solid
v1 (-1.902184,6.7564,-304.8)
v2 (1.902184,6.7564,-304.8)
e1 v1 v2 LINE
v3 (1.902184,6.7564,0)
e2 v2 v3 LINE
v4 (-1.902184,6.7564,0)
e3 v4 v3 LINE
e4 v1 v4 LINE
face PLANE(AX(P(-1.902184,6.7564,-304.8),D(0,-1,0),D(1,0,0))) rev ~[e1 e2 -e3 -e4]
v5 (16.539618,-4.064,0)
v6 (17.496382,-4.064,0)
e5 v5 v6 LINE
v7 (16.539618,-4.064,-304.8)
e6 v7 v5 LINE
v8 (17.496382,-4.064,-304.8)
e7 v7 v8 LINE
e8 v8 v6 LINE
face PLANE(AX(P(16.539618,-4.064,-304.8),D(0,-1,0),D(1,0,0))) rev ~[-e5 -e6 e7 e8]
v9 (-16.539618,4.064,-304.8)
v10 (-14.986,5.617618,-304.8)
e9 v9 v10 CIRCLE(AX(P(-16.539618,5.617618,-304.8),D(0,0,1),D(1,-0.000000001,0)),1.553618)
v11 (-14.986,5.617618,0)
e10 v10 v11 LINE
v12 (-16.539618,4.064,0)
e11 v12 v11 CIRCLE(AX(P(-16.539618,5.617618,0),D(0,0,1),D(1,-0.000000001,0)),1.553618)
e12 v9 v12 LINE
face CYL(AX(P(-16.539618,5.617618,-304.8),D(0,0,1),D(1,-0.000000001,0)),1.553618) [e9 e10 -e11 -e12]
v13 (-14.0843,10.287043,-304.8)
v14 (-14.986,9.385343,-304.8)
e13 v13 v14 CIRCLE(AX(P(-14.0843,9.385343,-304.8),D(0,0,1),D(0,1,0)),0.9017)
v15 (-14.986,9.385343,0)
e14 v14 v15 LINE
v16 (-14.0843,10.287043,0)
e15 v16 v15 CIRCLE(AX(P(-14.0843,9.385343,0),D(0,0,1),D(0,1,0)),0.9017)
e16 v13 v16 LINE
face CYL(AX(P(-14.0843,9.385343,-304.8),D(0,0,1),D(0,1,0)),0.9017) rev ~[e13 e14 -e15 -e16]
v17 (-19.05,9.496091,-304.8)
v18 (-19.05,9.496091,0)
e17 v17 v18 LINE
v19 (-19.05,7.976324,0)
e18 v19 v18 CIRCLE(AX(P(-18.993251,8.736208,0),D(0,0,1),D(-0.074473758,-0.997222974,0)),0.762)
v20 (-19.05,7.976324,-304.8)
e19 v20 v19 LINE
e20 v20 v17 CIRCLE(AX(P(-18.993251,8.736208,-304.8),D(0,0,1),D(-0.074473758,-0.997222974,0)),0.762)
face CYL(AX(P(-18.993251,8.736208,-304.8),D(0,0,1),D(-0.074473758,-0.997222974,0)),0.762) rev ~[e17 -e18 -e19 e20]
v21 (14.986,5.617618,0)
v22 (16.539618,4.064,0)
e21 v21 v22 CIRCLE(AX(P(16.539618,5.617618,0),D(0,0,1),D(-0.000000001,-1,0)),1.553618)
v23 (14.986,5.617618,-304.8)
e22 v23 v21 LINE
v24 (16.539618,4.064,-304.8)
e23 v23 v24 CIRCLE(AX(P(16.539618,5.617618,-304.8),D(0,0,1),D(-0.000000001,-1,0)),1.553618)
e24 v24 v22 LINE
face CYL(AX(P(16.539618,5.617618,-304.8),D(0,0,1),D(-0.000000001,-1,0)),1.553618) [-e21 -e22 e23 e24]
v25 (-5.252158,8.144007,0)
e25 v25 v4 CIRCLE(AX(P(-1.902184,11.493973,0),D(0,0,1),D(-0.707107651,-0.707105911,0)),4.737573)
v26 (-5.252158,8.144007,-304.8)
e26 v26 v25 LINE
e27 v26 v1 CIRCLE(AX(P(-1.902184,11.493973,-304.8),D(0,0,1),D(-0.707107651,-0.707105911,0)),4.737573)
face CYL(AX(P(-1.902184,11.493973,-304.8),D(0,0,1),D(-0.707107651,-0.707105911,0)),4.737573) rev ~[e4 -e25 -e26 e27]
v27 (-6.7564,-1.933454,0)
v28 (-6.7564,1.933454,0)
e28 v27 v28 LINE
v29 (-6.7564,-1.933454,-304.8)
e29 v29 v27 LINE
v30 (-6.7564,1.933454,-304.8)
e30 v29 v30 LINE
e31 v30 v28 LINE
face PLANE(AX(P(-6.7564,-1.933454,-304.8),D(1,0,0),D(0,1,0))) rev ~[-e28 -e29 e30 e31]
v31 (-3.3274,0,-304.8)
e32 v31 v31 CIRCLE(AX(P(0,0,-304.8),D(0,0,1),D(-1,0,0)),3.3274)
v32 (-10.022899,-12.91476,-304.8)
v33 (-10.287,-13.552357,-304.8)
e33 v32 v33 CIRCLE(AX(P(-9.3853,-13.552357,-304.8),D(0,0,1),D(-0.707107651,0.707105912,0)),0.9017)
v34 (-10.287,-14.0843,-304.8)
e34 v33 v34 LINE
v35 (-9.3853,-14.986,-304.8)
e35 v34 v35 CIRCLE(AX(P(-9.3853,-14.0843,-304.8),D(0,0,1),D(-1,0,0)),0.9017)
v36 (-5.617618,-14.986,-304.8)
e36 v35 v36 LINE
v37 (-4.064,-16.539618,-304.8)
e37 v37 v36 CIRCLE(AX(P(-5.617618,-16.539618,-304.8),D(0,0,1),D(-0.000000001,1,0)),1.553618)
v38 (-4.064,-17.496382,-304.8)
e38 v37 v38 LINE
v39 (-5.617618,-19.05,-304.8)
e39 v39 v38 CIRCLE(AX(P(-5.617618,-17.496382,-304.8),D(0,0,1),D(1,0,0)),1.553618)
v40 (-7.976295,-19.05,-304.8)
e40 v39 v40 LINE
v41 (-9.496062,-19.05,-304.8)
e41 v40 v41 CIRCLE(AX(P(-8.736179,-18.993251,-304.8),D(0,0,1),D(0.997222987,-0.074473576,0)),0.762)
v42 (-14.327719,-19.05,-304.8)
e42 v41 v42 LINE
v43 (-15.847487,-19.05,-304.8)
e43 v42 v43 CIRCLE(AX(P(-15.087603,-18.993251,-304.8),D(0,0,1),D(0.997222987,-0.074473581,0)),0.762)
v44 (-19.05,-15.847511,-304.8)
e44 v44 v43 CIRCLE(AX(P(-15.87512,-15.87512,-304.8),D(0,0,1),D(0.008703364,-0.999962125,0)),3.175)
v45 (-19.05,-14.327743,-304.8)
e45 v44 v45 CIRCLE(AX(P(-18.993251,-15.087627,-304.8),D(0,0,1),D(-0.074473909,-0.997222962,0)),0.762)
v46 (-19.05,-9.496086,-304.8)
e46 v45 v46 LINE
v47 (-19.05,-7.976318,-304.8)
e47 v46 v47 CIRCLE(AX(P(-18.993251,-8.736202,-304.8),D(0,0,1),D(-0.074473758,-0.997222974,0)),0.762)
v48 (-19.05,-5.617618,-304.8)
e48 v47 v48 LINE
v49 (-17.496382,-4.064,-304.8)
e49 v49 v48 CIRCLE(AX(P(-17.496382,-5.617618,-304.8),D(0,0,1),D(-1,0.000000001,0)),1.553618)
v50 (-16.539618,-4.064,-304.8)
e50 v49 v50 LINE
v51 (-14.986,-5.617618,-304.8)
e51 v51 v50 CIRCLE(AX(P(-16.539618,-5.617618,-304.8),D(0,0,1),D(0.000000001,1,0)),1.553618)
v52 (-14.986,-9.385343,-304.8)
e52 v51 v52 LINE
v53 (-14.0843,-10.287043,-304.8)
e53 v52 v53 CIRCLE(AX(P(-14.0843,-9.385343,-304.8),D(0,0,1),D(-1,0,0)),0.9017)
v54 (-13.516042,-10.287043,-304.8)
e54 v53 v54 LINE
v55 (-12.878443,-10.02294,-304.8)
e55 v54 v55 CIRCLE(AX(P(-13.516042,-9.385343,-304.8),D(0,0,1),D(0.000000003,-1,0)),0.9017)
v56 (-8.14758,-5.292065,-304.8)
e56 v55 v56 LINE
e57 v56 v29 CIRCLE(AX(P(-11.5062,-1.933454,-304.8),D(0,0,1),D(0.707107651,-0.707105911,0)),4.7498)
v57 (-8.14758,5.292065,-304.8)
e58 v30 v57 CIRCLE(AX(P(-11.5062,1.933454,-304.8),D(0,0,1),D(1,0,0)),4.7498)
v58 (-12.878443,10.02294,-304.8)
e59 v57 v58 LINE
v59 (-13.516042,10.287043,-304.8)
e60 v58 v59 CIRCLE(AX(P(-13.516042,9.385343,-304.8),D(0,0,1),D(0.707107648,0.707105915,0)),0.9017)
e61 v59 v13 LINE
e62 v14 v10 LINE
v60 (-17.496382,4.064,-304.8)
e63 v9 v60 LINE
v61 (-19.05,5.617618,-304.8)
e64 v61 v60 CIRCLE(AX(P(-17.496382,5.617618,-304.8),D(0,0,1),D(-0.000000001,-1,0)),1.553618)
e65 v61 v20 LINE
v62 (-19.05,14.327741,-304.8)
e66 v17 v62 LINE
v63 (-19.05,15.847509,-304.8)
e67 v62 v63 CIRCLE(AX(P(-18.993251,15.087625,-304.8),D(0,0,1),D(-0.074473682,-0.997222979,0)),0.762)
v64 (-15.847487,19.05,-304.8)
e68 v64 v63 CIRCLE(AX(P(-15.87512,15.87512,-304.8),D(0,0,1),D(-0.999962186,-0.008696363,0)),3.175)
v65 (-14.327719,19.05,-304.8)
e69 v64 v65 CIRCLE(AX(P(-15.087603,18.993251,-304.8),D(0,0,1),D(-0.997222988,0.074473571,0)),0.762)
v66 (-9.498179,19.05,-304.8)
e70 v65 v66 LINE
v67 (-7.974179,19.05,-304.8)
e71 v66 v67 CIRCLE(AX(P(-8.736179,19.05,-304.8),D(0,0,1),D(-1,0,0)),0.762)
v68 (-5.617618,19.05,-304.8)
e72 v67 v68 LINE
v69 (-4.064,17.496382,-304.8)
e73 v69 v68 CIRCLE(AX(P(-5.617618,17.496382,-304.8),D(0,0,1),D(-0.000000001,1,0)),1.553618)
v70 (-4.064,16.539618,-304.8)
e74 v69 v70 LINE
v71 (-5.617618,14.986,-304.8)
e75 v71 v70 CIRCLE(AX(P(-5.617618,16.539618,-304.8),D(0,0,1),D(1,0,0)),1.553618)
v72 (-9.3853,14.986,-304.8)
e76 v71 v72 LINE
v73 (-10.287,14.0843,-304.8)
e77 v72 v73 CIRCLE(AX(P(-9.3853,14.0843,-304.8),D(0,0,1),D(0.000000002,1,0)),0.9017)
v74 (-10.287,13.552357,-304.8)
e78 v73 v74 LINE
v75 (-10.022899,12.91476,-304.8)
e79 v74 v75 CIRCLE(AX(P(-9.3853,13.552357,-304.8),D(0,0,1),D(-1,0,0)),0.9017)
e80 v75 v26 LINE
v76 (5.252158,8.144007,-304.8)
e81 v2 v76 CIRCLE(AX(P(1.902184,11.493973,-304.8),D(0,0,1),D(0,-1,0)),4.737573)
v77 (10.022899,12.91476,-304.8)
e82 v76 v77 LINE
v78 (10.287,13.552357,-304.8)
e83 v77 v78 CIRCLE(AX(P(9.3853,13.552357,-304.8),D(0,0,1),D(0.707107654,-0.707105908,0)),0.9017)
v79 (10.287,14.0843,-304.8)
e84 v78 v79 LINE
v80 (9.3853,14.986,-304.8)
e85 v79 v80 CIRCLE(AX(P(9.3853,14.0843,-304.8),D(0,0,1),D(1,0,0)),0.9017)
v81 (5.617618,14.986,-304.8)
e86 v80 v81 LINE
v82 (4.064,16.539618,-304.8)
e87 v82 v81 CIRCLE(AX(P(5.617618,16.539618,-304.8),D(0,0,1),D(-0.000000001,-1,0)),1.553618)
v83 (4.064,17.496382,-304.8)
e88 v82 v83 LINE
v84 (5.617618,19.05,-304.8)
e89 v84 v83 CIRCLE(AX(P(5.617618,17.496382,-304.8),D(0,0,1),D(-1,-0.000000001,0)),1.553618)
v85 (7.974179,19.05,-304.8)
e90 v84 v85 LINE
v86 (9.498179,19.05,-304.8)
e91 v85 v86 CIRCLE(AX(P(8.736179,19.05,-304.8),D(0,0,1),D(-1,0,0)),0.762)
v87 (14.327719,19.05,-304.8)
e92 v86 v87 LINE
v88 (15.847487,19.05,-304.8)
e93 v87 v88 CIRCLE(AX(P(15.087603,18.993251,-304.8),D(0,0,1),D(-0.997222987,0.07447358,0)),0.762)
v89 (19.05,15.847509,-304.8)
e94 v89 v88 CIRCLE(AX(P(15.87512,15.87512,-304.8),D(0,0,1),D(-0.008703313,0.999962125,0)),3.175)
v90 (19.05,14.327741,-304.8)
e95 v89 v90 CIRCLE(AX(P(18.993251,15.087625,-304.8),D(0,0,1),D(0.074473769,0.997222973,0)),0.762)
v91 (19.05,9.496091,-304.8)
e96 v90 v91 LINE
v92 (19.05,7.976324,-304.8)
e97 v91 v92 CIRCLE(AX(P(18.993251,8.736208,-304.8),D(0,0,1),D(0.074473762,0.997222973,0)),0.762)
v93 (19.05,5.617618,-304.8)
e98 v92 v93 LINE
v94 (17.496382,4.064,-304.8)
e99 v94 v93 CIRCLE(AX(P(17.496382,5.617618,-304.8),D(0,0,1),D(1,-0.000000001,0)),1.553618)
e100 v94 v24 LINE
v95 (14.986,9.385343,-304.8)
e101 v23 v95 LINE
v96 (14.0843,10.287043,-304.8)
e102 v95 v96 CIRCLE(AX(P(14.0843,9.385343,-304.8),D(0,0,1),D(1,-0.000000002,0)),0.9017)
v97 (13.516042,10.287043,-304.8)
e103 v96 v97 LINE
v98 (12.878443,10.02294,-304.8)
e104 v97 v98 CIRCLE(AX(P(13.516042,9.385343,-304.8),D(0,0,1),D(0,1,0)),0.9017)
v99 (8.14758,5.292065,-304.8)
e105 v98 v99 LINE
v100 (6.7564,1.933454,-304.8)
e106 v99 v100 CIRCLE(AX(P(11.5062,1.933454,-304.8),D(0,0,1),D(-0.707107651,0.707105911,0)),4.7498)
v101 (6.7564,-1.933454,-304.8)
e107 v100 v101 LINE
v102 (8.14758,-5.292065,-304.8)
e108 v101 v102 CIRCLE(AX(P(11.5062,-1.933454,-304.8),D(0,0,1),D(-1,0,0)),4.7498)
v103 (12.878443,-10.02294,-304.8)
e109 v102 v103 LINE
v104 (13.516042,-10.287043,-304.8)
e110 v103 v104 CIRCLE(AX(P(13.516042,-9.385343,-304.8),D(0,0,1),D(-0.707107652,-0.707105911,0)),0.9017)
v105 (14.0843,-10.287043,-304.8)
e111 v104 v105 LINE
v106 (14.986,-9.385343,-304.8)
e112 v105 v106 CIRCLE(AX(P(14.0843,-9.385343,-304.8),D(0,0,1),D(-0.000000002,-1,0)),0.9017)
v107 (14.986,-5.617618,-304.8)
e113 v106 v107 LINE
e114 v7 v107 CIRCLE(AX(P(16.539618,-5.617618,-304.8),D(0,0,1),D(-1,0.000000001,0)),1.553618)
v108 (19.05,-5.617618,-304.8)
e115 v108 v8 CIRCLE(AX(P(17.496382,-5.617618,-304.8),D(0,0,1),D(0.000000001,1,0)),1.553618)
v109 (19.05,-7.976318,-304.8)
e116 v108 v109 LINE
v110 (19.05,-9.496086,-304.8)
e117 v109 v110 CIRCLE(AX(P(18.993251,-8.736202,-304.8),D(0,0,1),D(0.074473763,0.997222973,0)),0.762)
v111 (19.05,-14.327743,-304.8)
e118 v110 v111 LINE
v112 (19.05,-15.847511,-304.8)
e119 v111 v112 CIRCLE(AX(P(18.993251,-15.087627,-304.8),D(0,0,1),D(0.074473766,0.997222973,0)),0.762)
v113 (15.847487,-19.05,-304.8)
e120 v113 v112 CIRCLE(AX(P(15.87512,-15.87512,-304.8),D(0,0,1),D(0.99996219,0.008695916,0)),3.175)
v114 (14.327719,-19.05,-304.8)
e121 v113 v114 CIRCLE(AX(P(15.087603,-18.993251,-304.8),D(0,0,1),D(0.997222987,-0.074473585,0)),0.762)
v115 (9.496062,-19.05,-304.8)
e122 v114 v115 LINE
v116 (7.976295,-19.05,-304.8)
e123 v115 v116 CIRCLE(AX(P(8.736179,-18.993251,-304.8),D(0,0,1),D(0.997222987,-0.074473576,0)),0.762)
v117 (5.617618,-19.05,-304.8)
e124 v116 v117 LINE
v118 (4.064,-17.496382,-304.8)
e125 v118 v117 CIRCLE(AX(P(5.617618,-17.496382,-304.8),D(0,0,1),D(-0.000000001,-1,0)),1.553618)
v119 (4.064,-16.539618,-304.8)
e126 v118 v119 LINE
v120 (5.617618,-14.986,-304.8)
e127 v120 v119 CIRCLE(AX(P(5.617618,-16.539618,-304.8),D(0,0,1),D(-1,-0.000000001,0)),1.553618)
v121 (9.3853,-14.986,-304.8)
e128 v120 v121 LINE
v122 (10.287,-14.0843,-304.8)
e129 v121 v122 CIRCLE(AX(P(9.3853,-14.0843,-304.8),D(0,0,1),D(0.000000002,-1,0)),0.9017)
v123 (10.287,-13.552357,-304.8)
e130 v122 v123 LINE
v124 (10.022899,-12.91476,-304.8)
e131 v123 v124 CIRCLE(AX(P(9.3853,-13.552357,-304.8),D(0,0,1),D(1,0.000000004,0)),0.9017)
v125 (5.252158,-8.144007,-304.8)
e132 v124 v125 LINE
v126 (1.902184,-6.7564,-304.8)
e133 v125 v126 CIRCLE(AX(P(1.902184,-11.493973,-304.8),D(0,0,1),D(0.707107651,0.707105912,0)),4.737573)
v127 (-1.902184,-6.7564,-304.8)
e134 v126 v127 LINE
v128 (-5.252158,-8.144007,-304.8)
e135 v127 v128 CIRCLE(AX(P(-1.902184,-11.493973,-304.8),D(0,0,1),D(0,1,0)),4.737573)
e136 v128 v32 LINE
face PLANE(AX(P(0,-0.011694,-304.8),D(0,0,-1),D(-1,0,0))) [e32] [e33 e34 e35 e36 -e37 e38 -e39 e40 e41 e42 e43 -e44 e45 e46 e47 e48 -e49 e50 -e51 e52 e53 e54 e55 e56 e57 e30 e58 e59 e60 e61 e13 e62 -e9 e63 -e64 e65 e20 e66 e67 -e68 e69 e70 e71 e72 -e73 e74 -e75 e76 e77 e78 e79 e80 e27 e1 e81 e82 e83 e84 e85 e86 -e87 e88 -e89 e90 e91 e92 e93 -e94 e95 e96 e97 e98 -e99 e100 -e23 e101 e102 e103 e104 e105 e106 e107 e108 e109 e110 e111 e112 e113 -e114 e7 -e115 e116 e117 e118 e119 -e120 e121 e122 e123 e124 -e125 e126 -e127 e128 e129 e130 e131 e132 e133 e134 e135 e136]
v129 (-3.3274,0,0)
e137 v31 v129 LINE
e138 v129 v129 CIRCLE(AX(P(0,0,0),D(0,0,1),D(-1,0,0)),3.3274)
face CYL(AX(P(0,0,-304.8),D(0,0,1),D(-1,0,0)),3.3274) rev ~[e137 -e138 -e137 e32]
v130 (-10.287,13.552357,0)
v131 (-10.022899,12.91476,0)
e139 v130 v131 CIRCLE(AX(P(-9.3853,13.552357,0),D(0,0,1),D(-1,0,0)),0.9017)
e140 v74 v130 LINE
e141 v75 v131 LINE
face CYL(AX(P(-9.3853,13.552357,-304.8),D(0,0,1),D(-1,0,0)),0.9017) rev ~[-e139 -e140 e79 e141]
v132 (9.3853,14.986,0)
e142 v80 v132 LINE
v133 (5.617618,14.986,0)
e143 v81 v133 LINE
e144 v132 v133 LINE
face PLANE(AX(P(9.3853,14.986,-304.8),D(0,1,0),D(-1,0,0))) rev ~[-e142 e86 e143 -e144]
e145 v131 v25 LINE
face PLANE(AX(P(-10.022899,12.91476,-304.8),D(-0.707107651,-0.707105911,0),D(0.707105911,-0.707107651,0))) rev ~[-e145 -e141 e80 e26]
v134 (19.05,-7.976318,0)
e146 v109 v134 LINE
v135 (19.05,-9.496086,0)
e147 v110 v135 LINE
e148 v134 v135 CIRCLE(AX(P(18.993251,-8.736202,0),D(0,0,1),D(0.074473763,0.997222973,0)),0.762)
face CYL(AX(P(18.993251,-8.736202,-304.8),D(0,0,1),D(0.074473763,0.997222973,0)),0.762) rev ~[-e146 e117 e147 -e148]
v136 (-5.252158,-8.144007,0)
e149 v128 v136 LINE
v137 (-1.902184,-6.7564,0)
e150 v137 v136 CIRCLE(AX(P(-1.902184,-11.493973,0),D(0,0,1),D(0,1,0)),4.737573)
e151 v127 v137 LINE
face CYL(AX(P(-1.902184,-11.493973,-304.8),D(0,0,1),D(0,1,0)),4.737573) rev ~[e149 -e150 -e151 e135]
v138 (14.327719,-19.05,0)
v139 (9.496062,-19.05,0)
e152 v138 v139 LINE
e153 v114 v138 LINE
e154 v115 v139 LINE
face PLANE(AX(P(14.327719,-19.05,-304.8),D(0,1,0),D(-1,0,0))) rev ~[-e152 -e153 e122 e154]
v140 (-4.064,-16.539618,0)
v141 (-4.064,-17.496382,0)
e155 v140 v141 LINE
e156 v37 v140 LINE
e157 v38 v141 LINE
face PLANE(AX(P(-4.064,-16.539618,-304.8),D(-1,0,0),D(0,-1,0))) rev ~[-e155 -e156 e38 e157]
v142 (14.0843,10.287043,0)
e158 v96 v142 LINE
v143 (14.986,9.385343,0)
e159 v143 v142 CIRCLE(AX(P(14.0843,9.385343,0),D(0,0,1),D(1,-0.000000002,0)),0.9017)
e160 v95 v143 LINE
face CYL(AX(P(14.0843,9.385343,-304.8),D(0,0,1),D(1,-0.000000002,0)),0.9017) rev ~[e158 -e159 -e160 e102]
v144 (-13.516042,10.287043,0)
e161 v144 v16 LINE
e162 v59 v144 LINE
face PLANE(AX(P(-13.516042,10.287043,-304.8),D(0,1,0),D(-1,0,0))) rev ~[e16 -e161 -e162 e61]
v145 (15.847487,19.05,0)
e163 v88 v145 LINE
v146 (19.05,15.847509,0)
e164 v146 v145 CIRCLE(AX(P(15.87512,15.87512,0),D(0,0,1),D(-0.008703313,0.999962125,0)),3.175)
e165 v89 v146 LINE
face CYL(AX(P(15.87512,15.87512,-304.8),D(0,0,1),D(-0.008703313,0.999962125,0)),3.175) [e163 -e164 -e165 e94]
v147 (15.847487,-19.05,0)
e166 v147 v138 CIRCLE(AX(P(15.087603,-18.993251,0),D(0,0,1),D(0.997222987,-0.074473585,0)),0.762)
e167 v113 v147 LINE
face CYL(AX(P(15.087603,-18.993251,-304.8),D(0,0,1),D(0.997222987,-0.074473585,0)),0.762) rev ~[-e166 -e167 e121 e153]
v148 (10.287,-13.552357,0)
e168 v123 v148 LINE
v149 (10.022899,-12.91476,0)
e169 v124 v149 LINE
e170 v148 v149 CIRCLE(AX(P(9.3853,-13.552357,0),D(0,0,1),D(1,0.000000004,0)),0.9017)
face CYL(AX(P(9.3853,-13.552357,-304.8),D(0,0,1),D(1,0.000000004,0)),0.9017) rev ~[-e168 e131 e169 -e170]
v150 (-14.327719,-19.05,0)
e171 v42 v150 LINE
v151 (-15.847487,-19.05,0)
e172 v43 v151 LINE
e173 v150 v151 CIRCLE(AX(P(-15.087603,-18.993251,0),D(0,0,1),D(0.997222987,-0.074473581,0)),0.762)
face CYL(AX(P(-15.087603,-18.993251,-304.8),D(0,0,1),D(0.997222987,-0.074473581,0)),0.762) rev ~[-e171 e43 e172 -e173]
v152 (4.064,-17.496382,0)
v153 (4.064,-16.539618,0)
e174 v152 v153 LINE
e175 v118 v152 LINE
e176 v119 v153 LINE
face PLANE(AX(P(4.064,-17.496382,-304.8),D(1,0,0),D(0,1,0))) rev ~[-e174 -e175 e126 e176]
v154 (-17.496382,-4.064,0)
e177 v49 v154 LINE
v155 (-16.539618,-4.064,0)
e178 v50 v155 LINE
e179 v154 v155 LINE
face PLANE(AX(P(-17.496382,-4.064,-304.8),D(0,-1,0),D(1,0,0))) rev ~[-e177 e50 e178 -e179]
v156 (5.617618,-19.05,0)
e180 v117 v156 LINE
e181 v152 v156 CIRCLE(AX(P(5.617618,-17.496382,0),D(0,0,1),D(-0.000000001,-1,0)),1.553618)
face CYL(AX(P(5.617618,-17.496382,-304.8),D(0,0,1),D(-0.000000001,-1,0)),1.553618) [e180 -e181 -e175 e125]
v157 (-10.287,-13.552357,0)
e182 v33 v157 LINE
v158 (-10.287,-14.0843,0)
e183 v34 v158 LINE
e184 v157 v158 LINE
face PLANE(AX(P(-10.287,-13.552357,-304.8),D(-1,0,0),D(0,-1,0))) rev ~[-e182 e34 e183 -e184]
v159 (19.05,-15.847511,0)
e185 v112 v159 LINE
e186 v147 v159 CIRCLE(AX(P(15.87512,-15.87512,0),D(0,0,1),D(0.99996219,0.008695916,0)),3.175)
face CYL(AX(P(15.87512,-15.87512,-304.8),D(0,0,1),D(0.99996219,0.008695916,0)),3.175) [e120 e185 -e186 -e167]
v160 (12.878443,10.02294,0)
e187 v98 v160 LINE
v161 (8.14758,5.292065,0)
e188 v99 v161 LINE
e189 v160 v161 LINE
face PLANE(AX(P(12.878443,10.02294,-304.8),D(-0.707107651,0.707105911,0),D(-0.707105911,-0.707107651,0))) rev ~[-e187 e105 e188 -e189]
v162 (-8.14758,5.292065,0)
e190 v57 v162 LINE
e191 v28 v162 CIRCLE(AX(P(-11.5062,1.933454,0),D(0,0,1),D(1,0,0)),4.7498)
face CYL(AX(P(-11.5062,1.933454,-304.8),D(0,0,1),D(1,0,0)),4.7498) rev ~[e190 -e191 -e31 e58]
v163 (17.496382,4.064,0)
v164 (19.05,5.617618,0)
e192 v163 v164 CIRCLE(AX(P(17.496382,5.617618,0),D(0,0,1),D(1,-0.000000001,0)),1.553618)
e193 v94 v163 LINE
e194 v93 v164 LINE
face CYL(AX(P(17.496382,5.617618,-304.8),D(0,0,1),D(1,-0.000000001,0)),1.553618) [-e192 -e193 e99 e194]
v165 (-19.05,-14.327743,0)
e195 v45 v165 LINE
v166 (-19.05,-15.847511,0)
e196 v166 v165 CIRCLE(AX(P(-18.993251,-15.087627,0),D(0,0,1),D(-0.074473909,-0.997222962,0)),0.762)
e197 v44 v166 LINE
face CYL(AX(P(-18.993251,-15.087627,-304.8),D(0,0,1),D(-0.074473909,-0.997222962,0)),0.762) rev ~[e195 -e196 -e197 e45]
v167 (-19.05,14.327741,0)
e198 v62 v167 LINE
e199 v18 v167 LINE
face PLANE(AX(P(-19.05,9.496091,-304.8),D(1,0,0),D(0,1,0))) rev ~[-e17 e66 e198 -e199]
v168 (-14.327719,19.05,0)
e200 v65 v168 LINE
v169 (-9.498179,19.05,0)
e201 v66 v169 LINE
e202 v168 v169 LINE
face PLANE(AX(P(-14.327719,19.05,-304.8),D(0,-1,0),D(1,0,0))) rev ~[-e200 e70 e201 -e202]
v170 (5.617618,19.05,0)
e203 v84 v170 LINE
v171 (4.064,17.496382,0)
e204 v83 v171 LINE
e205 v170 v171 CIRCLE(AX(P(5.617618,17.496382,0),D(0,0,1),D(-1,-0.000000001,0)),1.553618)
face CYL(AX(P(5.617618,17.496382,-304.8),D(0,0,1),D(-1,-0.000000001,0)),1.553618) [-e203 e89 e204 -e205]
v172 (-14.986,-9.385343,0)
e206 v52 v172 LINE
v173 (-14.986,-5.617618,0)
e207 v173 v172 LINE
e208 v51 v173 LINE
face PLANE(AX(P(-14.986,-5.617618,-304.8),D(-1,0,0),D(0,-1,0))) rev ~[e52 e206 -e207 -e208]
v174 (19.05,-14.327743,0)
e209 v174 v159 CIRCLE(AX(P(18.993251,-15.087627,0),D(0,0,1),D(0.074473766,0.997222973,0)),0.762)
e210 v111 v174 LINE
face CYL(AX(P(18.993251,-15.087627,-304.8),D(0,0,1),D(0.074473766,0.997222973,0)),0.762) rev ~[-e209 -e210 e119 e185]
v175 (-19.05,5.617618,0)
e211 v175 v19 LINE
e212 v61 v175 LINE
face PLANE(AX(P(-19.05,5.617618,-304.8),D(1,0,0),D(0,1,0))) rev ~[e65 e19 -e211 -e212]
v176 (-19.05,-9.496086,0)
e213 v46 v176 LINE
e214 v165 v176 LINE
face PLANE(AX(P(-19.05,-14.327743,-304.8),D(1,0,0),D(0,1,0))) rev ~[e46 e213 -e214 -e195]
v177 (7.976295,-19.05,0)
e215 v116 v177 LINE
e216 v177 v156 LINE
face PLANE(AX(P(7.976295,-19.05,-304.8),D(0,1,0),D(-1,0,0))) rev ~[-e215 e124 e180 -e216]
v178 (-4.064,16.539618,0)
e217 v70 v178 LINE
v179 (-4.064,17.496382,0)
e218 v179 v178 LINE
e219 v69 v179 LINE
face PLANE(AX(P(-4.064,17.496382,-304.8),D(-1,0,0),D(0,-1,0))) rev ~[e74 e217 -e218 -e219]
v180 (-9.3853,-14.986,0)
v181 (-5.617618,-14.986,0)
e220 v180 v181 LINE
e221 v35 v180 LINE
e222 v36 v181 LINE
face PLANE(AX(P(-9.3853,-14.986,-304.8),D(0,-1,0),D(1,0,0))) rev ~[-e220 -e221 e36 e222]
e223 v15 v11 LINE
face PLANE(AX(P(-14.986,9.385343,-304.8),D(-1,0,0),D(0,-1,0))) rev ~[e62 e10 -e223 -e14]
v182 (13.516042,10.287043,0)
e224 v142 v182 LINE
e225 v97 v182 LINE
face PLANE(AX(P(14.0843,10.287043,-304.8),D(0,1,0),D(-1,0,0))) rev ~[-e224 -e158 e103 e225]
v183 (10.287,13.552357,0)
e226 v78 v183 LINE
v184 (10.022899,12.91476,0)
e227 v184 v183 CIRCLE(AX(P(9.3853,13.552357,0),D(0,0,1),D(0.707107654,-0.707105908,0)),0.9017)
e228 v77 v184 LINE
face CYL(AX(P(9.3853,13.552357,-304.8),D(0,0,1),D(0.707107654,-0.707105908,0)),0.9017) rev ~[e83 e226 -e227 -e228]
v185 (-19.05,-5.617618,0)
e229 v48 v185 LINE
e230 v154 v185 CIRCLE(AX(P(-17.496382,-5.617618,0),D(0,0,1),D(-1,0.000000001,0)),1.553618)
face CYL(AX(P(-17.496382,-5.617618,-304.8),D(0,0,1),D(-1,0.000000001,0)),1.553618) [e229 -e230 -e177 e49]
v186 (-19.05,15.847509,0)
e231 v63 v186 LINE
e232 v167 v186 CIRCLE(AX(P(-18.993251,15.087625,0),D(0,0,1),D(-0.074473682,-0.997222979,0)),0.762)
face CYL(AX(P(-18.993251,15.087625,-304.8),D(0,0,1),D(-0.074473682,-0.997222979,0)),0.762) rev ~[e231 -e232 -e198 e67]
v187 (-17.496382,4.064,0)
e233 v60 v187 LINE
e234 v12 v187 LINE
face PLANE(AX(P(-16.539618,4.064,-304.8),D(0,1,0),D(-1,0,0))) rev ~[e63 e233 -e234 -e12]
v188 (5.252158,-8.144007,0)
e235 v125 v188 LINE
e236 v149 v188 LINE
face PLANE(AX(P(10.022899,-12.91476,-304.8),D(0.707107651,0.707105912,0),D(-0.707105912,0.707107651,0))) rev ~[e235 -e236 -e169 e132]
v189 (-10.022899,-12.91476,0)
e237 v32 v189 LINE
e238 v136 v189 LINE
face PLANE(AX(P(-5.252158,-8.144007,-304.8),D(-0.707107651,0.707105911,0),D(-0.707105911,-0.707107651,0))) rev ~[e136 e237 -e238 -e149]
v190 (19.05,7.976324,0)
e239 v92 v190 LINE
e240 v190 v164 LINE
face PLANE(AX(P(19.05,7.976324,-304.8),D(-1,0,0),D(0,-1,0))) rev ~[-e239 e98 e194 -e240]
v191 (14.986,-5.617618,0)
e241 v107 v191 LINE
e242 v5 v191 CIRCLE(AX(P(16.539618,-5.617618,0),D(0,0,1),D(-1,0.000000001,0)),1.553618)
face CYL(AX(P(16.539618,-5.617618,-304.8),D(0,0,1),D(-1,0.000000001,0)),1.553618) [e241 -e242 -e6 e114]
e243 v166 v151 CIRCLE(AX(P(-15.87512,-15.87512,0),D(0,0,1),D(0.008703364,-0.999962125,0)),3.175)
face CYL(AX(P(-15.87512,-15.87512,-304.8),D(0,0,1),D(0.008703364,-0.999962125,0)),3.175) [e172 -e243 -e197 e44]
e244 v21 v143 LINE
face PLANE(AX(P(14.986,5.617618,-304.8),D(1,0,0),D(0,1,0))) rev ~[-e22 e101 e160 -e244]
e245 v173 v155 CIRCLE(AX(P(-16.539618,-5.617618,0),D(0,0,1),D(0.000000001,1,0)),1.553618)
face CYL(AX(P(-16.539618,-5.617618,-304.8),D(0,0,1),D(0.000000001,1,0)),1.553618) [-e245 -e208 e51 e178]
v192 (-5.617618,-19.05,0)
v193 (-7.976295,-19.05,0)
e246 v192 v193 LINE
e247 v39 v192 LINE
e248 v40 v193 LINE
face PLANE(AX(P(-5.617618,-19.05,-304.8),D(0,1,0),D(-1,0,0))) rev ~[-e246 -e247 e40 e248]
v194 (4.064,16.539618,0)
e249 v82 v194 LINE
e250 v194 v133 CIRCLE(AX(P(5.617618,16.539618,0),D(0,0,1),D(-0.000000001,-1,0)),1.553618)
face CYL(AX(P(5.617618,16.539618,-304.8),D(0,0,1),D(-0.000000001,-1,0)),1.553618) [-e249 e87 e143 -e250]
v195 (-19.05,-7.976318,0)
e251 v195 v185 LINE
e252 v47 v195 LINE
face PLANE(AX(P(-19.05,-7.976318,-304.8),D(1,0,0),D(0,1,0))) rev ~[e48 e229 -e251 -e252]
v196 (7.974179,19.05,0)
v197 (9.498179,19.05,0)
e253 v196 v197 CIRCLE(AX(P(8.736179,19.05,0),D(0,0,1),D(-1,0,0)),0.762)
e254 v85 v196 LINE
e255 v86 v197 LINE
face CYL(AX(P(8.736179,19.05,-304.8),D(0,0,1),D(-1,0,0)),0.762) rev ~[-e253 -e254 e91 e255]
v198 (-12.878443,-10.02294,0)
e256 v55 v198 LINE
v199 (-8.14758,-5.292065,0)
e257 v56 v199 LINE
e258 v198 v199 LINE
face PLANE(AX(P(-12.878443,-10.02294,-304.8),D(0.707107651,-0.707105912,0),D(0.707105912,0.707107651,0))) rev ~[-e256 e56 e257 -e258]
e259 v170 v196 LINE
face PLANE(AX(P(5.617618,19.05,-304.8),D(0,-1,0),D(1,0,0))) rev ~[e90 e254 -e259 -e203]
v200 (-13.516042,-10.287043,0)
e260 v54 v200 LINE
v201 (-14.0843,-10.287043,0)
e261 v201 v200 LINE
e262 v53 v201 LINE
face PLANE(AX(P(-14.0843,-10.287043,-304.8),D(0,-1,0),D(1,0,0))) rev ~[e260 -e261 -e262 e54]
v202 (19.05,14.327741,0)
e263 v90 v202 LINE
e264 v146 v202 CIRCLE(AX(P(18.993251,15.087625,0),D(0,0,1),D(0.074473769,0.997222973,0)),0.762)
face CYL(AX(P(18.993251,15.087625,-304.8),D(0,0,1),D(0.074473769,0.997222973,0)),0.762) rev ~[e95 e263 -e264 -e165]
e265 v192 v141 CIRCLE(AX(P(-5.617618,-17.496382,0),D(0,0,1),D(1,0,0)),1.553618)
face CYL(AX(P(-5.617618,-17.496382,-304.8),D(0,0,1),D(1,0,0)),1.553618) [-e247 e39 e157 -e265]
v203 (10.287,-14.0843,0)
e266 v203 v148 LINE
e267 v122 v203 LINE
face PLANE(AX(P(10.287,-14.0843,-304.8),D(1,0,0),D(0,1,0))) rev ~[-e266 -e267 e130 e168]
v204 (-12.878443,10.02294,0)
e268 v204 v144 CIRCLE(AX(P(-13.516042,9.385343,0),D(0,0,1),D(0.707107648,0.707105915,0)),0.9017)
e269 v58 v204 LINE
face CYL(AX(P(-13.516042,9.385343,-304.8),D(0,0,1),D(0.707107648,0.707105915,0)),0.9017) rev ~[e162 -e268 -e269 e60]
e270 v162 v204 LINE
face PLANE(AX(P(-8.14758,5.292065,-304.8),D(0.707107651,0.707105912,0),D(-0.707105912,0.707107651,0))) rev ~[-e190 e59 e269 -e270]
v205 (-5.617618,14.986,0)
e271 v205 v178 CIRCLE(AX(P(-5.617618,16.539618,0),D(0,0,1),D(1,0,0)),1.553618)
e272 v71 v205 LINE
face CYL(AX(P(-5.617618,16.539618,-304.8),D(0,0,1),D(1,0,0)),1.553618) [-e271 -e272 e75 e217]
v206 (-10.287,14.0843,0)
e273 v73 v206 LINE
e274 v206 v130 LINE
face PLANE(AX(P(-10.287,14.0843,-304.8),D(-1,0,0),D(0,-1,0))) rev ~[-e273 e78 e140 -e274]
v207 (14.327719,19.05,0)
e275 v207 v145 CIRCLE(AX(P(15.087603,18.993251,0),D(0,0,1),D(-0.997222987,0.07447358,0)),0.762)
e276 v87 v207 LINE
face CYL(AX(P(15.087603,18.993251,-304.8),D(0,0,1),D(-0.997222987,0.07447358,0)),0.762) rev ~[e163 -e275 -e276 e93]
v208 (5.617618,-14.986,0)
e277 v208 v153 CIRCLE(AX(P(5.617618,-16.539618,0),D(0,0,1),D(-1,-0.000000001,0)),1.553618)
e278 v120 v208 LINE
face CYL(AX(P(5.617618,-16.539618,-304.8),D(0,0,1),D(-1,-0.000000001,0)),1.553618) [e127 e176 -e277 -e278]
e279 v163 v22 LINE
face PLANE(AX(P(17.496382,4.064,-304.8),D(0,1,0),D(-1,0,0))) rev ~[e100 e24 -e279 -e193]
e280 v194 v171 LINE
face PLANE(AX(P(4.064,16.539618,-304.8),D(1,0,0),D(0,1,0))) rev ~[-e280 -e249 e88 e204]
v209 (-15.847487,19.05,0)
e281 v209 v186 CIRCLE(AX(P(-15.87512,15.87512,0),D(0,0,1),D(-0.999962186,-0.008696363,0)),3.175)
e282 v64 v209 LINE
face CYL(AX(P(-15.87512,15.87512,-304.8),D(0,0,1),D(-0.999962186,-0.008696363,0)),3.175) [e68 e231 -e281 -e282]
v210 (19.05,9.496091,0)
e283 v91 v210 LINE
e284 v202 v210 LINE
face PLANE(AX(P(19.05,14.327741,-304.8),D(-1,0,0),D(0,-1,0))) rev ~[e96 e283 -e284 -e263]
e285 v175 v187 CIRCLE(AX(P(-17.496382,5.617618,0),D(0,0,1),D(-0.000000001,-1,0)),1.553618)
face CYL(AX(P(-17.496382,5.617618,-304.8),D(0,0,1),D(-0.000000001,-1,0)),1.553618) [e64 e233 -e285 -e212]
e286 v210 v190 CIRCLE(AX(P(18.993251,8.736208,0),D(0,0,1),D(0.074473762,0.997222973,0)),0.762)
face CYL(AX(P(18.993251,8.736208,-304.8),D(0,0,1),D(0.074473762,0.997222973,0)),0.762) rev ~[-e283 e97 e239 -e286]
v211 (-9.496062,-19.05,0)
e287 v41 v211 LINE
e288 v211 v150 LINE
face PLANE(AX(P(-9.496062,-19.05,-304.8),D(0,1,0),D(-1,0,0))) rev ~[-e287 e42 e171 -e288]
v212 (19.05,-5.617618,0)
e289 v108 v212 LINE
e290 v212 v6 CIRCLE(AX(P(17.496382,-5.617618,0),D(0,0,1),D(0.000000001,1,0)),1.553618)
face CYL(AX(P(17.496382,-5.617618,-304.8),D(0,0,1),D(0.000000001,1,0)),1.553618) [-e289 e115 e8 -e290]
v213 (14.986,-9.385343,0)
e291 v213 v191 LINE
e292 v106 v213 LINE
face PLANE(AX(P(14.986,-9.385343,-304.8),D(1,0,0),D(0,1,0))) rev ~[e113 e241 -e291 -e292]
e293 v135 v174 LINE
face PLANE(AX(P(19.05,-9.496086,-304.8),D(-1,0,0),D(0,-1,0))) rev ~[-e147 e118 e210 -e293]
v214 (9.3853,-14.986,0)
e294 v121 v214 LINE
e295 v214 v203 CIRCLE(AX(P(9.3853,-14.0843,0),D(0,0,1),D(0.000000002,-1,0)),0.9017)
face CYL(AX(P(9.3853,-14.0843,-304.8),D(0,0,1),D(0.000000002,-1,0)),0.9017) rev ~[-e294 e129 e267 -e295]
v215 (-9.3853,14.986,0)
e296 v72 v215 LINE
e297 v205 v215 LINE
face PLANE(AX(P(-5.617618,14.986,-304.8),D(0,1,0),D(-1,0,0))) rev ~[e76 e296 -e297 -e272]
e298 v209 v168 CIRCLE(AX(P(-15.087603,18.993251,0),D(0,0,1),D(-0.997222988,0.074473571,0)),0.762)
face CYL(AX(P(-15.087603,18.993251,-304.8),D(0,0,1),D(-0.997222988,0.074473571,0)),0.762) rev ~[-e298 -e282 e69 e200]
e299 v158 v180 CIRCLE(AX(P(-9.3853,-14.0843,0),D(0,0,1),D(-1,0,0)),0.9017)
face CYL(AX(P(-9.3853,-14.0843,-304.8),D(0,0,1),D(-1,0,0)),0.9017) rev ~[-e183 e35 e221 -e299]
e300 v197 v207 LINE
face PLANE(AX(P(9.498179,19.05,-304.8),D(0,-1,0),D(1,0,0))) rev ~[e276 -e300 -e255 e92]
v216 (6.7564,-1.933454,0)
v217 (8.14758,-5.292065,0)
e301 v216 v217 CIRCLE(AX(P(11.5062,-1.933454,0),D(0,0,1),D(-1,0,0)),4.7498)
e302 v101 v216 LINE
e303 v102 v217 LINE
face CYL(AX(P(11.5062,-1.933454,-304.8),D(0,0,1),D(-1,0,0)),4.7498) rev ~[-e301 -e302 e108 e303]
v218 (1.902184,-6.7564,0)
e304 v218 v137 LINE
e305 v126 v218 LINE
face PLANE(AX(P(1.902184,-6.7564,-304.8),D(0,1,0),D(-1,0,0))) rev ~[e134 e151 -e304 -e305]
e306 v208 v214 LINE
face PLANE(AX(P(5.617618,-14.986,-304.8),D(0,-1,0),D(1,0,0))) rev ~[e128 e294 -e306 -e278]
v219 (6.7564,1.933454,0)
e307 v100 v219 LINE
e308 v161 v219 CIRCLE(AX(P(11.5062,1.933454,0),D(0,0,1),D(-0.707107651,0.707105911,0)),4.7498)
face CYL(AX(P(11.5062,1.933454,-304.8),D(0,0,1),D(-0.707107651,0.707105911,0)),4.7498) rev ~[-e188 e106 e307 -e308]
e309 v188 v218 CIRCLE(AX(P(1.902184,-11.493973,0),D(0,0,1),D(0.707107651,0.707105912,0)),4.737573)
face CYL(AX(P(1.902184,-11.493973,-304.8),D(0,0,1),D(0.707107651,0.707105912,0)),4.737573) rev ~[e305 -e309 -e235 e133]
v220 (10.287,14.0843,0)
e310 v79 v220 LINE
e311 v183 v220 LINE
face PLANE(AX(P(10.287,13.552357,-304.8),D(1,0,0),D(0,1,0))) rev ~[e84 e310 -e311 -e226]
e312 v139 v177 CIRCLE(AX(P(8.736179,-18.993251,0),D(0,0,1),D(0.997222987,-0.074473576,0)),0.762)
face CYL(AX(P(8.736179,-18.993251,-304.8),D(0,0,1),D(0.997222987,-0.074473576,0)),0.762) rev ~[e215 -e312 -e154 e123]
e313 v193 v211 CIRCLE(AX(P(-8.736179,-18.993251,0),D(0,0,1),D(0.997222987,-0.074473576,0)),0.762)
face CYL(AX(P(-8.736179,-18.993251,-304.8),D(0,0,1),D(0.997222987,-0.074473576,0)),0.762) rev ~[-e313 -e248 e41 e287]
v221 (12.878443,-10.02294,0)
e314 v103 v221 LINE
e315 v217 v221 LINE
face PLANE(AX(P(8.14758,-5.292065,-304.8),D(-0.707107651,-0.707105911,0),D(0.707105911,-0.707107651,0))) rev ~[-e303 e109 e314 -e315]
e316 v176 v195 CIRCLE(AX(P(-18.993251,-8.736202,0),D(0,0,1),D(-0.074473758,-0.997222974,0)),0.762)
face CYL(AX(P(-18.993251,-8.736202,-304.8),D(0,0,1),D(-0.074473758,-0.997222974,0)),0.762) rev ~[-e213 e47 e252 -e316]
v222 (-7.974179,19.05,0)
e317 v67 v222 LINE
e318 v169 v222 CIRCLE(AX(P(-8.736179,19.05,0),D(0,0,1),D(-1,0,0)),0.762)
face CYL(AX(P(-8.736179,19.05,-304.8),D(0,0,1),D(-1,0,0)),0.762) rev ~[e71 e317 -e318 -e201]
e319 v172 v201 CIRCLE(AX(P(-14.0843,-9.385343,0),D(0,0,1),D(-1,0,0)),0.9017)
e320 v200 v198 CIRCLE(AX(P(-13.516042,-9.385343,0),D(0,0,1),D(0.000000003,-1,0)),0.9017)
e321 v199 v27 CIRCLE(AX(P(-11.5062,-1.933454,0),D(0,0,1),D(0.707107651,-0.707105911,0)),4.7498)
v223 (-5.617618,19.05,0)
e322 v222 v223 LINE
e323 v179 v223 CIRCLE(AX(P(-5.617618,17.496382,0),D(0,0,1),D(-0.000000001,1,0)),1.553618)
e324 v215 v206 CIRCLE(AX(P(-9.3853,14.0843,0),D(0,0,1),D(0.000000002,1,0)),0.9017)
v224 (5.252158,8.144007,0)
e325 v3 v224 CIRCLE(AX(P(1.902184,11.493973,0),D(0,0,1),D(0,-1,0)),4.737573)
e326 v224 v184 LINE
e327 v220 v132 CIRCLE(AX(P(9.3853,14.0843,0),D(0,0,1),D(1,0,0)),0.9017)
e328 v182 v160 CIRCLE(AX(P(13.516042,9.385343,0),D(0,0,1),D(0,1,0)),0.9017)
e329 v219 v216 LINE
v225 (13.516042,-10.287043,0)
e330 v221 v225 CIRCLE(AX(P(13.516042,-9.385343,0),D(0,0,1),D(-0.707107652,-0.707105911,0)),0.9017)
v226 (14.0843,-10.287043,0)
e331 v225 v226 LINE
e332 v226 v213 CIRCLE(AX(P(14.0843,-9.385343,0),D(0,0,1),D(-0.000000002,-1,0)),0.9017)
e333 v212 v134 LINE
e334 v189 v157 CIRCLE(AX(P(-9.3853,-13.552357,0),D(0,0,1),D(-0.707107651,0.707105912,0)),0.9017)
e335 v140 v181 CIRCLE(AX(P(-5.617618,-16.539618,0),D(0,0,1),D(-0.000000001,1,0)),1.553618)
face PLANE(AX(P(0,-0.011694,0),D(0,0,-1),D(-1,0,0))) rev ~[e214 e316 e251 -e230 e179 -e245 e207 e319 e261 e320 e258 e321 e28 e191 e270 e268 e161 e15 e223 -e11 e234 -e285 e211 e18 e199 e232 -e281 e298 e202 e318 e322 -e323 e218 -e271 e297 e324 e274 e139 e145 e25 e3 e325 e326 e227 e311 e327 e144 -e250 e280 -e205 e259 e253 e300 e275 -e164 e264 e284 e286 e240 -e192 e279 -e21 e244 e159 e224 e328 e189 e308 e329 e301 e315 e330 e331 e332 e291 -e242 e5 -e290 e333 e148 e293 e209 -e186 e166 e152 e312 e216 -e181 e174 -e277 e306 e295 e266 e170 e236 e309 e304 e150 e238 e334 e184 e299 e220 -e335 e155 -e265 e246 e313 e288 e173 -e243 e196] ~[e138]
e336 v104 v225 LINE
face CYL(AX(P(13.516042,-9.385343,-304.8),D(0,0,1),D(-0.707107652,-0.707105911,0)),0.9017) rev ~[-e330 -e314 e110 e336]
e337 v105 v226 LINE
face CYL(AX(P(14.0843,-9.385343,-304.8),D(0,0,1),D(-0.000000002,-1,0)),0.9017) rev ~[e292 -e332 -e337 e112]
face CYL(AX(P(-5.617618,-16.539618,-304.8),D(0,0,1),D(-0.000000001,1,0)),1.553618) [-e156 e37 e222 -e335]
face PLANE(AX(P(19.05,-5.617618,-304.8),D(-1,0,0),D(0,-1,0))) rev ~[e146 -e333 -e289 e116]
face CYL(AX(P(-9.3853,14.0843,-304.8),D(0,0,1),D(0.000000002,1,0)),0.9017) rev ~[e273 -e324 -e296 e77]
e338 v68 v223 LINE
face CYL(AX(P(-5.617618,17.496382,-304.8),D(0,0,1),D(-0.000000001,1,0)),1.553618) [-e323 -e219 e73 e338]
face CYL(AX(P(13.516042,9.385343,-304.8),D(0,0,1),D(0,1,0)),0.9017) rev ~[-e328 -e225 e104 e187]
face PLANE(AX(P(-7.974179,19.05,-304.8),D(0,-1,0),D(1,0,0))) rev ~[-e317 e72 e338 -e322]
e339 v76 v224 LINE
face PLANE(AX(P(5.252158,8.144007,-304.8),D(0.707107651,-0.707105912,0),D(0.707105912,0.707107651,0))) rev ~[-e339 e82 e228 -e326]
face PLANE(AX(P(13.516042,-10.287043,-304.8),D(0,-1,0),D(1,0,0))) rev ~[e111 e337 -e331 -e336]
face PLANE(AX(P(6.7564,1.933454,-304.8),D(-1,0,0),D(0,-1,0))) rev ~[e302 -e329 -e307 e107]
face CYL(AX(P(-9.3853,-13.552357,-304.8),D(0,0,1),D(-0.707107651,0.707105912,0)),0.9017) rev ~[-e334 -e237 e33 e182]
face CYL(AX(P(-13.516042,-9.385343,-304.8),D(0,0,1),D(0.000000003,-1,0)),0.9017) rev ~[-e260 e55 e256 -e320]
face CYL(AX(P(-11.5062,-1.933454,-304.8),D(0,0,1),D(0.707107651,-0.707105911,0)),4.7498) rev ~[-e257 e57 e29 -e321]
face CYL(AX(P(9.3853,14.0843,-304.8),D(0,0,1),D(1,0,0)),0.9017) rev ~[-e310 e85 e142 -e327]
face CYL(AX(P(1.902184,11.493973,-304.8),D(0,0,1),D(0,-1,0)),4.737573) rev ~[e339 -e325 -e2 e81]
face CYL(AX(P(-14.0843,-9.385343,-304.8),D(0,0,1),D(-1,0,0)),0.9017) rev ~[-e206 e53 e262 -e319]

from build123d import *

# Parameters (mm, degrees)
SKETCH1_R = 3.3274


with BuildPart() as part:
    # Sweep4: sweep along a path in Sketch2
    with BuildLine(Plane(origin=(0, 0, 0), x_dir=(1, 0, 0), z_dir=(0, 1, 0))) as sweep4_path:
        Line((0, 304.8), (0, 275))
        Line((0, 275), (0, 0))
    # Sketch1 → Sweep4 (sweep)
    with BuildSketch(Plane(origin=(0, 0, -304.8), x_dir=(-1, 0, 0), z_dir=(0, 0, -1))):
        with BuildLine():
            Line((14.327719201, 19.050000003), (9.498178698, 19.050000003))
            ThreePointArc((9.498178698, 19.050000003), (8.736178698, 18.288000003), (7.974178698, 19.050000003))
            Line((7.974178698, 19.050000003), (5.61761756, 19.050000003))
            ThreePointArc((5.61761756, 19.050000003), (4.519044055, 18.594955959), (4.06400001, 17.496382454))
            Line((4.06400001, 17.496382454), (4.06400001, 16.539617563))
            ThreePointArc((4.06400001, 16.539617563), (4.519044055, 15.441044058), (5.61761756, 14.986000013))
            Line((5.61761756, 14.986000013), (9.38530001, 14.986000013))
            ThreePointArc((9.38530001, 14.986000013), (10.022898195, 14.721898198), (10.28700001, 14.084300013))
            Line((10.28700001, 14.084300013), (10.28700001, 13.552357144))
            ThreePointArc((10.28700001, 13.552357144), (10.218362397, 13.207292006), (10.022898979, 12.914759744))
            Line((10.022898979, 12.914759744), (5.252158118, 8.144007146))
            ThreePointArc((5.252158118, 8.144007146), (3.715177385, 7.117027402), (1.902183988, 6.756400013))
            Line((1.902183988, 6.756400013), (-1.902183965, 6.756400013))
            ThreePointArc((-1.902183965, 6.756400013), (-3.715177361, 7.117027401), (-5.252158094, 8.144007145))
            Line((-5.252158094, 8.144007145), (-10.022898959, 12.914759744))
            ThreePointArc((-10.022898959, 12.914759744), (-10.218362376, 13.207292006), (-10.28699999, 13.552357144))
            Line((-10.28699999, 13.552357144), (-10.28699999, 14.084300013))
            ThreePointArc((-10.28699999, 14.084300013), (-10.022898174, 14.721898198), (-9.38529999, 14.986000013))
            Line((-9.38529999, 14.986000013), (-5.617617539, 14.986000013))
            ThreePointArc((-5.617617539, 14.986000013), (-4.519044035, 15.441044058), (-4.06399999, 16.539617563))
            Line((-4.06399999, 16.539617563), (-4.06399999, 17.496382454))
            ThreePointArc((-4.06399999, 17.496382454), (-4.519044035, 18.594955959), (-5.617617539, 19.050000003))
            Line((-5.617617539, 19.050000003), (-7.974178709, 19.050000003))
            ThreePointArc((-7.974178709, 19.050000003), (-8.736178709, 18.288000003), (-9.498178709, 19.050000003))
            Line((-9.498178709, 19.050000003), (-14.327719212, 19.050000003))
            ThreePointArc((-14.327719212, 19.050000003), (-15.087603125, 18.231251135), (-15.847487045, 19.049999996))
            ThreePointArc((-15.847487045, 19.049999996), (-18.120176306, 18.120192065), (-19.050000001, 15.847509253))
            ThreePointArc((-19.050000001, 15.847509253), (-18.231251012, 15.087625373), (-19.049999993, 14.327741484))
            Line((-19.049999993, 14.327741484), (-19.049999993, 9.49609147))
            ThreePointArc((-19.049999993, 9.49609147), (-18.231250986, 8.736207564), (-19.049999993, 7.976323658))
            Line((-19.049999993, 7.976323658), (-19.049999993, 5.617617549))
            ThreePointArc((-19.049999993, 5.617617549), (-18.594955948, 4.519044045), (-17.496382444, 4.064))
            Line((-17.496382444, 4.064), (-16.539617542, 4.064))
            ThreePointArc((-16.539617542, 4.064), (-15.441044038, 4.519044045), (-14.985999993, 5.617617549))
            Line((-14.985999993, 5.617617549), (-14.985999993, 9.385342517))
            ThreePointArc((-14.985999993, 9.385342517), (-14.721898178, 10.022940702), (-14.084299993, 10.287042517))
            Line((-14.084299993, 10.287042517), (-13.516042079, 10.287042517))
            ThreePointArc((-13.516042079, 10.287042517), (-13.170975915, 10.218404479), (-12.87844311, 10.022939917))
            Line((-12.87844311, 10.022939917), (-8.147580073, 5.292065242))
            ThreePointArc((-8.147580073, 5.292065242), (-7.117955872, 3.751120652), (-6.756399993, 1.933453584))
            Line((-6.756399993, 1.933453584), (-6.756399993, -1.933453584))
            ThreePointArc((-6.756399993, -1.933453584), (-7.117955872, -3.751120652), (-8.147580073, -5.292065242))
            Line((-8.147580073, -5.292065242), (-12.87844311, -10.022939917))
            ThreePointArc((-12.87844311, -10.022939917), (-13.170975915, -10.218404479), (-13.516042079, -10.287042517))
            Line((-13.516042079, -10.287042517), (-14.084299993, -10.287042517))
            ThreePointArc((-14.084299993, -10.287042517), (-14.721898178, -10.022940702), (-14.985999993, -9.385342517))
            Line((-14.985999993, -9.385342517), (-14.985999993, -5.617617549))
            ThreePointArc((-14.985999993, -5.617617549), (-15.441044038, -4.519044045), (-16.539617542, -4.064))
            Line((-16.539617542, -4.064), (-17.496382444, -4.064))
            ThreePointArc((-17.496382444, -4.064), (-18.594955948, -4.519044045), (-19.049999993, -5.617617549))
            Line((-19.049999993, -5.617617549), (-19.049999993, -7.97631849))
            ThreePointArc((-19.049999993, -7.97631849), (-18.231250986, -8.736202396), (-19.049999993, -9.496086301))
            Line((-19.049999993, -9.496086301), (-19.049999993, -14.327742909))
            ThreePointArc((-19.049999993, -14.327742909), (-18.231250983, -15.08762681), (-19.049999984, -15.847510721))
            ThreePointArc((-19.049999984, -15.847510721), (-18.120175688, -18.120192657), (-15.847486815, -19.049999997))
            ThreePointArc((-15.847486815, -19.049999997), (-15.087602925, -18.231251148), (-14.327719025, -19.049999987))
            Line((-14.327719025, -19.049999987), (-9.496062438, -19.049999987))
            ThreePointArc((-9.496062438, -19.049999987), (-8.736178522, -18.231251122), (-7.976294605, -19.049999987))
            Line((-7.976294605, -19.049999987), (-5.617617539, -19.049999987))
            ThreePointArc((-5.617617539, -19.049999987), (-4.519044035, -18.594955942), (-4.06399999, -17.496382437))
            Line((-4.06399999, -17.496382437), (-4.06399999, -16.539617536))
            ThreePointArc((-4.06399999, -16.539617536), (-4.519044035, -15.441044031), (-5.617617539, -14.985999987))
            Line((-5.617617539, -14.985999987), (-9.38529999, -14.985999987))
            ThreePointArc((-9.38529999, -14.985999987), (-10.022898174, -14.721898171), (-10.28699999, -14.084299987))
            Line((-10.28699999, -14.084299987), (-10.28699999, -13.552357118))
            ThreePointArc((-10.28699999, -13.552357118), (-10.218362376, -13.207291979), (-10.022898959, -12.914759717))
            Line((-10.022898959, -12.914759717), (-5.252158094, -8.144007118))
            ThreePointArc((-5.252158094, -8.144007118), (-3.715177361, -7.117027375), (-1.902183965, -6.756399987))
            Line((-1.902183965, -6.756399987), (1.902183988, -6.756399987))
            ThreePointArc((1.902183988, -6.756399987), (3.715177385, -7.117027375), (5.252158118, -8.144007119))
            Line((5.252158118, -8.144007119), (10.022898979, -12.914759717))
            ThreePointArc((10.022898979, -12.914759717), (10.218362397, -13.207291979), (10.28700001, -13.552357118))
            Line((10.28700001, -13.552357118), (10.28700001, -14.084299987))
            ThreePointArc((10.28700001, -14.084299987), (10.022898195, -14.721898171), (9.38530001, -14.985999987))
            Line((9.38530001, -14.985999987), (5.61761756, -14.985999987))
            ThreePointArc((5.61761756, -14.985999987), (4.519044055, -15.441044031), (4.06400001, -16.539617536))
            Line((4.06400001, -16.539617536), (4.06400001, -17.496382437))
            ThreePointArc((4.06400001, -17.496382437), (4.519044055, -18.594955942), (5.61761756, -19.049999987))
            Line((5.61761756, -19.049999987), (7.976294626, -19.049999987))
            ThreePointArc((7.976294626, -19.049999987), (8.736178543, -18.231251122), (9.496062459, -19.049999987))
            Line((9.496062459, -19.049999987), (14.327719046, -19.049999987))
            ThreePointArc((14.327719046, -19.049999987), (15.087602959, -18.231251119), (15.847486878, -19.04999998))
            ThreePointArc((15.847486878, -19.04999998), (18.12017574, -18.120192611), (19.050000007, -15.847510662))
            ThreePointArc((19.050000007, -15.847510662), (18.231250911, -15.087626785), (19.050000007, -14.327742909))
            Line((19.050000007, -14.327742909), (19.050000007, -9.496086301))
            ThreePointArc((19.050000007, -9.496086301), (18.231251003, -8.736202395), (19.050000007, -7.976318489))
            Line((19.050000007, -7.976318489), (19.050000007, -5.617617549))
            ThreePointArc((19.050000007, -5.617617549), (18.594955962, -4.519044045), (17.496382458, -4.064))
            Line((17.496382458, -4.064), (16.539617556, -4.064))
            ThreePointArc((16.539617556, -4.064), (15.441044052, -4.519044045), (14.986000007, -5.617617549))
            Line((14.986000007, -5.617617549), (14.986000007, -9.385342517))
            ThreePointArc((14.986000007, -9.385342517), (14.721898191, -10.022940702), (14.084300007, -10.287042517))
            Line((14.084300007, -10.287042517), (13.516042095, -10.287042517))
            ThreePointArc((13.516042095, -10.287042517), (13.170975932, -10.218404479), (12.878443126, -10.022939918))
            Line((12.878443126, -10.022939918), (8.147580087, -5.292065243))
            ThreePointArc((8.147580087, -5.292065243), (7.117955886, -3.751120653), (6.756400007, -1.933453584))
            Line((6.756400007, -1.933453584), (6.756400007, 1.933453584))
            ThreePointArc((6.756400007, 1.933453584), (7.117955886, 3.751120653), (8.147580087, 5.292065243))
            Line((8.147580087, 5.292065243), (12.878443126, 10.022939918))
            ThreePointArc((12.878443126, 10.022939918), (13.170975932, 10.218404479), (13.516042095, 10.287042517))
            Line((13.516042095, 10.287042517), (14.084300007, 10.287042517))
            ThreePointArc((14.084300007, 10.287042517), (14.721898191, 10.022940702), (14.986000007, 9.385342517))
            Line((14.986000007, 9.385342517), (14.986000007, 5.617617549))
            ThreePointArc((14.986000007, 5.617617549), (15.441044052, 4.519044045), (16.539617556, 4.064))
            Line((16.539617556, 4.064), (17.496382458, 4.064))
            ThreePointArc((17.496382458, 4.064), (18.594955962, 4.519044045), (19.050000007, 5.617617549))
            Line((19.050000007, 5.617617549), (19.050000007, 7.976323659))
            ThreePointArc((19.050000007, 7.976323659), (18.231251003, 8.736207565), (19.050000007, 9.496091471))
            Line((19.050000007, 9.496091471), (19.050000007, 14.327741484))
            ThreePointArc((19.050000007, 14.327741484), (18.231251061, 15.087625385), (19.049999988, 15.847509306))
            ThreePointArc((19.049999988, 15.847509306), (18.120176278, 18.120192088), (15.847487034, 19.050000003))
            ThreePointArc((15.847487034, 19.050000003), (15.087603117, 18.231251142), (14.327719201, 19.050000003))
        make_face()
        Circle(SKETCH1_R, mode=Mode.SUBTRACT)
    sweep(path=sweep4_path.line)


solid = part.part
